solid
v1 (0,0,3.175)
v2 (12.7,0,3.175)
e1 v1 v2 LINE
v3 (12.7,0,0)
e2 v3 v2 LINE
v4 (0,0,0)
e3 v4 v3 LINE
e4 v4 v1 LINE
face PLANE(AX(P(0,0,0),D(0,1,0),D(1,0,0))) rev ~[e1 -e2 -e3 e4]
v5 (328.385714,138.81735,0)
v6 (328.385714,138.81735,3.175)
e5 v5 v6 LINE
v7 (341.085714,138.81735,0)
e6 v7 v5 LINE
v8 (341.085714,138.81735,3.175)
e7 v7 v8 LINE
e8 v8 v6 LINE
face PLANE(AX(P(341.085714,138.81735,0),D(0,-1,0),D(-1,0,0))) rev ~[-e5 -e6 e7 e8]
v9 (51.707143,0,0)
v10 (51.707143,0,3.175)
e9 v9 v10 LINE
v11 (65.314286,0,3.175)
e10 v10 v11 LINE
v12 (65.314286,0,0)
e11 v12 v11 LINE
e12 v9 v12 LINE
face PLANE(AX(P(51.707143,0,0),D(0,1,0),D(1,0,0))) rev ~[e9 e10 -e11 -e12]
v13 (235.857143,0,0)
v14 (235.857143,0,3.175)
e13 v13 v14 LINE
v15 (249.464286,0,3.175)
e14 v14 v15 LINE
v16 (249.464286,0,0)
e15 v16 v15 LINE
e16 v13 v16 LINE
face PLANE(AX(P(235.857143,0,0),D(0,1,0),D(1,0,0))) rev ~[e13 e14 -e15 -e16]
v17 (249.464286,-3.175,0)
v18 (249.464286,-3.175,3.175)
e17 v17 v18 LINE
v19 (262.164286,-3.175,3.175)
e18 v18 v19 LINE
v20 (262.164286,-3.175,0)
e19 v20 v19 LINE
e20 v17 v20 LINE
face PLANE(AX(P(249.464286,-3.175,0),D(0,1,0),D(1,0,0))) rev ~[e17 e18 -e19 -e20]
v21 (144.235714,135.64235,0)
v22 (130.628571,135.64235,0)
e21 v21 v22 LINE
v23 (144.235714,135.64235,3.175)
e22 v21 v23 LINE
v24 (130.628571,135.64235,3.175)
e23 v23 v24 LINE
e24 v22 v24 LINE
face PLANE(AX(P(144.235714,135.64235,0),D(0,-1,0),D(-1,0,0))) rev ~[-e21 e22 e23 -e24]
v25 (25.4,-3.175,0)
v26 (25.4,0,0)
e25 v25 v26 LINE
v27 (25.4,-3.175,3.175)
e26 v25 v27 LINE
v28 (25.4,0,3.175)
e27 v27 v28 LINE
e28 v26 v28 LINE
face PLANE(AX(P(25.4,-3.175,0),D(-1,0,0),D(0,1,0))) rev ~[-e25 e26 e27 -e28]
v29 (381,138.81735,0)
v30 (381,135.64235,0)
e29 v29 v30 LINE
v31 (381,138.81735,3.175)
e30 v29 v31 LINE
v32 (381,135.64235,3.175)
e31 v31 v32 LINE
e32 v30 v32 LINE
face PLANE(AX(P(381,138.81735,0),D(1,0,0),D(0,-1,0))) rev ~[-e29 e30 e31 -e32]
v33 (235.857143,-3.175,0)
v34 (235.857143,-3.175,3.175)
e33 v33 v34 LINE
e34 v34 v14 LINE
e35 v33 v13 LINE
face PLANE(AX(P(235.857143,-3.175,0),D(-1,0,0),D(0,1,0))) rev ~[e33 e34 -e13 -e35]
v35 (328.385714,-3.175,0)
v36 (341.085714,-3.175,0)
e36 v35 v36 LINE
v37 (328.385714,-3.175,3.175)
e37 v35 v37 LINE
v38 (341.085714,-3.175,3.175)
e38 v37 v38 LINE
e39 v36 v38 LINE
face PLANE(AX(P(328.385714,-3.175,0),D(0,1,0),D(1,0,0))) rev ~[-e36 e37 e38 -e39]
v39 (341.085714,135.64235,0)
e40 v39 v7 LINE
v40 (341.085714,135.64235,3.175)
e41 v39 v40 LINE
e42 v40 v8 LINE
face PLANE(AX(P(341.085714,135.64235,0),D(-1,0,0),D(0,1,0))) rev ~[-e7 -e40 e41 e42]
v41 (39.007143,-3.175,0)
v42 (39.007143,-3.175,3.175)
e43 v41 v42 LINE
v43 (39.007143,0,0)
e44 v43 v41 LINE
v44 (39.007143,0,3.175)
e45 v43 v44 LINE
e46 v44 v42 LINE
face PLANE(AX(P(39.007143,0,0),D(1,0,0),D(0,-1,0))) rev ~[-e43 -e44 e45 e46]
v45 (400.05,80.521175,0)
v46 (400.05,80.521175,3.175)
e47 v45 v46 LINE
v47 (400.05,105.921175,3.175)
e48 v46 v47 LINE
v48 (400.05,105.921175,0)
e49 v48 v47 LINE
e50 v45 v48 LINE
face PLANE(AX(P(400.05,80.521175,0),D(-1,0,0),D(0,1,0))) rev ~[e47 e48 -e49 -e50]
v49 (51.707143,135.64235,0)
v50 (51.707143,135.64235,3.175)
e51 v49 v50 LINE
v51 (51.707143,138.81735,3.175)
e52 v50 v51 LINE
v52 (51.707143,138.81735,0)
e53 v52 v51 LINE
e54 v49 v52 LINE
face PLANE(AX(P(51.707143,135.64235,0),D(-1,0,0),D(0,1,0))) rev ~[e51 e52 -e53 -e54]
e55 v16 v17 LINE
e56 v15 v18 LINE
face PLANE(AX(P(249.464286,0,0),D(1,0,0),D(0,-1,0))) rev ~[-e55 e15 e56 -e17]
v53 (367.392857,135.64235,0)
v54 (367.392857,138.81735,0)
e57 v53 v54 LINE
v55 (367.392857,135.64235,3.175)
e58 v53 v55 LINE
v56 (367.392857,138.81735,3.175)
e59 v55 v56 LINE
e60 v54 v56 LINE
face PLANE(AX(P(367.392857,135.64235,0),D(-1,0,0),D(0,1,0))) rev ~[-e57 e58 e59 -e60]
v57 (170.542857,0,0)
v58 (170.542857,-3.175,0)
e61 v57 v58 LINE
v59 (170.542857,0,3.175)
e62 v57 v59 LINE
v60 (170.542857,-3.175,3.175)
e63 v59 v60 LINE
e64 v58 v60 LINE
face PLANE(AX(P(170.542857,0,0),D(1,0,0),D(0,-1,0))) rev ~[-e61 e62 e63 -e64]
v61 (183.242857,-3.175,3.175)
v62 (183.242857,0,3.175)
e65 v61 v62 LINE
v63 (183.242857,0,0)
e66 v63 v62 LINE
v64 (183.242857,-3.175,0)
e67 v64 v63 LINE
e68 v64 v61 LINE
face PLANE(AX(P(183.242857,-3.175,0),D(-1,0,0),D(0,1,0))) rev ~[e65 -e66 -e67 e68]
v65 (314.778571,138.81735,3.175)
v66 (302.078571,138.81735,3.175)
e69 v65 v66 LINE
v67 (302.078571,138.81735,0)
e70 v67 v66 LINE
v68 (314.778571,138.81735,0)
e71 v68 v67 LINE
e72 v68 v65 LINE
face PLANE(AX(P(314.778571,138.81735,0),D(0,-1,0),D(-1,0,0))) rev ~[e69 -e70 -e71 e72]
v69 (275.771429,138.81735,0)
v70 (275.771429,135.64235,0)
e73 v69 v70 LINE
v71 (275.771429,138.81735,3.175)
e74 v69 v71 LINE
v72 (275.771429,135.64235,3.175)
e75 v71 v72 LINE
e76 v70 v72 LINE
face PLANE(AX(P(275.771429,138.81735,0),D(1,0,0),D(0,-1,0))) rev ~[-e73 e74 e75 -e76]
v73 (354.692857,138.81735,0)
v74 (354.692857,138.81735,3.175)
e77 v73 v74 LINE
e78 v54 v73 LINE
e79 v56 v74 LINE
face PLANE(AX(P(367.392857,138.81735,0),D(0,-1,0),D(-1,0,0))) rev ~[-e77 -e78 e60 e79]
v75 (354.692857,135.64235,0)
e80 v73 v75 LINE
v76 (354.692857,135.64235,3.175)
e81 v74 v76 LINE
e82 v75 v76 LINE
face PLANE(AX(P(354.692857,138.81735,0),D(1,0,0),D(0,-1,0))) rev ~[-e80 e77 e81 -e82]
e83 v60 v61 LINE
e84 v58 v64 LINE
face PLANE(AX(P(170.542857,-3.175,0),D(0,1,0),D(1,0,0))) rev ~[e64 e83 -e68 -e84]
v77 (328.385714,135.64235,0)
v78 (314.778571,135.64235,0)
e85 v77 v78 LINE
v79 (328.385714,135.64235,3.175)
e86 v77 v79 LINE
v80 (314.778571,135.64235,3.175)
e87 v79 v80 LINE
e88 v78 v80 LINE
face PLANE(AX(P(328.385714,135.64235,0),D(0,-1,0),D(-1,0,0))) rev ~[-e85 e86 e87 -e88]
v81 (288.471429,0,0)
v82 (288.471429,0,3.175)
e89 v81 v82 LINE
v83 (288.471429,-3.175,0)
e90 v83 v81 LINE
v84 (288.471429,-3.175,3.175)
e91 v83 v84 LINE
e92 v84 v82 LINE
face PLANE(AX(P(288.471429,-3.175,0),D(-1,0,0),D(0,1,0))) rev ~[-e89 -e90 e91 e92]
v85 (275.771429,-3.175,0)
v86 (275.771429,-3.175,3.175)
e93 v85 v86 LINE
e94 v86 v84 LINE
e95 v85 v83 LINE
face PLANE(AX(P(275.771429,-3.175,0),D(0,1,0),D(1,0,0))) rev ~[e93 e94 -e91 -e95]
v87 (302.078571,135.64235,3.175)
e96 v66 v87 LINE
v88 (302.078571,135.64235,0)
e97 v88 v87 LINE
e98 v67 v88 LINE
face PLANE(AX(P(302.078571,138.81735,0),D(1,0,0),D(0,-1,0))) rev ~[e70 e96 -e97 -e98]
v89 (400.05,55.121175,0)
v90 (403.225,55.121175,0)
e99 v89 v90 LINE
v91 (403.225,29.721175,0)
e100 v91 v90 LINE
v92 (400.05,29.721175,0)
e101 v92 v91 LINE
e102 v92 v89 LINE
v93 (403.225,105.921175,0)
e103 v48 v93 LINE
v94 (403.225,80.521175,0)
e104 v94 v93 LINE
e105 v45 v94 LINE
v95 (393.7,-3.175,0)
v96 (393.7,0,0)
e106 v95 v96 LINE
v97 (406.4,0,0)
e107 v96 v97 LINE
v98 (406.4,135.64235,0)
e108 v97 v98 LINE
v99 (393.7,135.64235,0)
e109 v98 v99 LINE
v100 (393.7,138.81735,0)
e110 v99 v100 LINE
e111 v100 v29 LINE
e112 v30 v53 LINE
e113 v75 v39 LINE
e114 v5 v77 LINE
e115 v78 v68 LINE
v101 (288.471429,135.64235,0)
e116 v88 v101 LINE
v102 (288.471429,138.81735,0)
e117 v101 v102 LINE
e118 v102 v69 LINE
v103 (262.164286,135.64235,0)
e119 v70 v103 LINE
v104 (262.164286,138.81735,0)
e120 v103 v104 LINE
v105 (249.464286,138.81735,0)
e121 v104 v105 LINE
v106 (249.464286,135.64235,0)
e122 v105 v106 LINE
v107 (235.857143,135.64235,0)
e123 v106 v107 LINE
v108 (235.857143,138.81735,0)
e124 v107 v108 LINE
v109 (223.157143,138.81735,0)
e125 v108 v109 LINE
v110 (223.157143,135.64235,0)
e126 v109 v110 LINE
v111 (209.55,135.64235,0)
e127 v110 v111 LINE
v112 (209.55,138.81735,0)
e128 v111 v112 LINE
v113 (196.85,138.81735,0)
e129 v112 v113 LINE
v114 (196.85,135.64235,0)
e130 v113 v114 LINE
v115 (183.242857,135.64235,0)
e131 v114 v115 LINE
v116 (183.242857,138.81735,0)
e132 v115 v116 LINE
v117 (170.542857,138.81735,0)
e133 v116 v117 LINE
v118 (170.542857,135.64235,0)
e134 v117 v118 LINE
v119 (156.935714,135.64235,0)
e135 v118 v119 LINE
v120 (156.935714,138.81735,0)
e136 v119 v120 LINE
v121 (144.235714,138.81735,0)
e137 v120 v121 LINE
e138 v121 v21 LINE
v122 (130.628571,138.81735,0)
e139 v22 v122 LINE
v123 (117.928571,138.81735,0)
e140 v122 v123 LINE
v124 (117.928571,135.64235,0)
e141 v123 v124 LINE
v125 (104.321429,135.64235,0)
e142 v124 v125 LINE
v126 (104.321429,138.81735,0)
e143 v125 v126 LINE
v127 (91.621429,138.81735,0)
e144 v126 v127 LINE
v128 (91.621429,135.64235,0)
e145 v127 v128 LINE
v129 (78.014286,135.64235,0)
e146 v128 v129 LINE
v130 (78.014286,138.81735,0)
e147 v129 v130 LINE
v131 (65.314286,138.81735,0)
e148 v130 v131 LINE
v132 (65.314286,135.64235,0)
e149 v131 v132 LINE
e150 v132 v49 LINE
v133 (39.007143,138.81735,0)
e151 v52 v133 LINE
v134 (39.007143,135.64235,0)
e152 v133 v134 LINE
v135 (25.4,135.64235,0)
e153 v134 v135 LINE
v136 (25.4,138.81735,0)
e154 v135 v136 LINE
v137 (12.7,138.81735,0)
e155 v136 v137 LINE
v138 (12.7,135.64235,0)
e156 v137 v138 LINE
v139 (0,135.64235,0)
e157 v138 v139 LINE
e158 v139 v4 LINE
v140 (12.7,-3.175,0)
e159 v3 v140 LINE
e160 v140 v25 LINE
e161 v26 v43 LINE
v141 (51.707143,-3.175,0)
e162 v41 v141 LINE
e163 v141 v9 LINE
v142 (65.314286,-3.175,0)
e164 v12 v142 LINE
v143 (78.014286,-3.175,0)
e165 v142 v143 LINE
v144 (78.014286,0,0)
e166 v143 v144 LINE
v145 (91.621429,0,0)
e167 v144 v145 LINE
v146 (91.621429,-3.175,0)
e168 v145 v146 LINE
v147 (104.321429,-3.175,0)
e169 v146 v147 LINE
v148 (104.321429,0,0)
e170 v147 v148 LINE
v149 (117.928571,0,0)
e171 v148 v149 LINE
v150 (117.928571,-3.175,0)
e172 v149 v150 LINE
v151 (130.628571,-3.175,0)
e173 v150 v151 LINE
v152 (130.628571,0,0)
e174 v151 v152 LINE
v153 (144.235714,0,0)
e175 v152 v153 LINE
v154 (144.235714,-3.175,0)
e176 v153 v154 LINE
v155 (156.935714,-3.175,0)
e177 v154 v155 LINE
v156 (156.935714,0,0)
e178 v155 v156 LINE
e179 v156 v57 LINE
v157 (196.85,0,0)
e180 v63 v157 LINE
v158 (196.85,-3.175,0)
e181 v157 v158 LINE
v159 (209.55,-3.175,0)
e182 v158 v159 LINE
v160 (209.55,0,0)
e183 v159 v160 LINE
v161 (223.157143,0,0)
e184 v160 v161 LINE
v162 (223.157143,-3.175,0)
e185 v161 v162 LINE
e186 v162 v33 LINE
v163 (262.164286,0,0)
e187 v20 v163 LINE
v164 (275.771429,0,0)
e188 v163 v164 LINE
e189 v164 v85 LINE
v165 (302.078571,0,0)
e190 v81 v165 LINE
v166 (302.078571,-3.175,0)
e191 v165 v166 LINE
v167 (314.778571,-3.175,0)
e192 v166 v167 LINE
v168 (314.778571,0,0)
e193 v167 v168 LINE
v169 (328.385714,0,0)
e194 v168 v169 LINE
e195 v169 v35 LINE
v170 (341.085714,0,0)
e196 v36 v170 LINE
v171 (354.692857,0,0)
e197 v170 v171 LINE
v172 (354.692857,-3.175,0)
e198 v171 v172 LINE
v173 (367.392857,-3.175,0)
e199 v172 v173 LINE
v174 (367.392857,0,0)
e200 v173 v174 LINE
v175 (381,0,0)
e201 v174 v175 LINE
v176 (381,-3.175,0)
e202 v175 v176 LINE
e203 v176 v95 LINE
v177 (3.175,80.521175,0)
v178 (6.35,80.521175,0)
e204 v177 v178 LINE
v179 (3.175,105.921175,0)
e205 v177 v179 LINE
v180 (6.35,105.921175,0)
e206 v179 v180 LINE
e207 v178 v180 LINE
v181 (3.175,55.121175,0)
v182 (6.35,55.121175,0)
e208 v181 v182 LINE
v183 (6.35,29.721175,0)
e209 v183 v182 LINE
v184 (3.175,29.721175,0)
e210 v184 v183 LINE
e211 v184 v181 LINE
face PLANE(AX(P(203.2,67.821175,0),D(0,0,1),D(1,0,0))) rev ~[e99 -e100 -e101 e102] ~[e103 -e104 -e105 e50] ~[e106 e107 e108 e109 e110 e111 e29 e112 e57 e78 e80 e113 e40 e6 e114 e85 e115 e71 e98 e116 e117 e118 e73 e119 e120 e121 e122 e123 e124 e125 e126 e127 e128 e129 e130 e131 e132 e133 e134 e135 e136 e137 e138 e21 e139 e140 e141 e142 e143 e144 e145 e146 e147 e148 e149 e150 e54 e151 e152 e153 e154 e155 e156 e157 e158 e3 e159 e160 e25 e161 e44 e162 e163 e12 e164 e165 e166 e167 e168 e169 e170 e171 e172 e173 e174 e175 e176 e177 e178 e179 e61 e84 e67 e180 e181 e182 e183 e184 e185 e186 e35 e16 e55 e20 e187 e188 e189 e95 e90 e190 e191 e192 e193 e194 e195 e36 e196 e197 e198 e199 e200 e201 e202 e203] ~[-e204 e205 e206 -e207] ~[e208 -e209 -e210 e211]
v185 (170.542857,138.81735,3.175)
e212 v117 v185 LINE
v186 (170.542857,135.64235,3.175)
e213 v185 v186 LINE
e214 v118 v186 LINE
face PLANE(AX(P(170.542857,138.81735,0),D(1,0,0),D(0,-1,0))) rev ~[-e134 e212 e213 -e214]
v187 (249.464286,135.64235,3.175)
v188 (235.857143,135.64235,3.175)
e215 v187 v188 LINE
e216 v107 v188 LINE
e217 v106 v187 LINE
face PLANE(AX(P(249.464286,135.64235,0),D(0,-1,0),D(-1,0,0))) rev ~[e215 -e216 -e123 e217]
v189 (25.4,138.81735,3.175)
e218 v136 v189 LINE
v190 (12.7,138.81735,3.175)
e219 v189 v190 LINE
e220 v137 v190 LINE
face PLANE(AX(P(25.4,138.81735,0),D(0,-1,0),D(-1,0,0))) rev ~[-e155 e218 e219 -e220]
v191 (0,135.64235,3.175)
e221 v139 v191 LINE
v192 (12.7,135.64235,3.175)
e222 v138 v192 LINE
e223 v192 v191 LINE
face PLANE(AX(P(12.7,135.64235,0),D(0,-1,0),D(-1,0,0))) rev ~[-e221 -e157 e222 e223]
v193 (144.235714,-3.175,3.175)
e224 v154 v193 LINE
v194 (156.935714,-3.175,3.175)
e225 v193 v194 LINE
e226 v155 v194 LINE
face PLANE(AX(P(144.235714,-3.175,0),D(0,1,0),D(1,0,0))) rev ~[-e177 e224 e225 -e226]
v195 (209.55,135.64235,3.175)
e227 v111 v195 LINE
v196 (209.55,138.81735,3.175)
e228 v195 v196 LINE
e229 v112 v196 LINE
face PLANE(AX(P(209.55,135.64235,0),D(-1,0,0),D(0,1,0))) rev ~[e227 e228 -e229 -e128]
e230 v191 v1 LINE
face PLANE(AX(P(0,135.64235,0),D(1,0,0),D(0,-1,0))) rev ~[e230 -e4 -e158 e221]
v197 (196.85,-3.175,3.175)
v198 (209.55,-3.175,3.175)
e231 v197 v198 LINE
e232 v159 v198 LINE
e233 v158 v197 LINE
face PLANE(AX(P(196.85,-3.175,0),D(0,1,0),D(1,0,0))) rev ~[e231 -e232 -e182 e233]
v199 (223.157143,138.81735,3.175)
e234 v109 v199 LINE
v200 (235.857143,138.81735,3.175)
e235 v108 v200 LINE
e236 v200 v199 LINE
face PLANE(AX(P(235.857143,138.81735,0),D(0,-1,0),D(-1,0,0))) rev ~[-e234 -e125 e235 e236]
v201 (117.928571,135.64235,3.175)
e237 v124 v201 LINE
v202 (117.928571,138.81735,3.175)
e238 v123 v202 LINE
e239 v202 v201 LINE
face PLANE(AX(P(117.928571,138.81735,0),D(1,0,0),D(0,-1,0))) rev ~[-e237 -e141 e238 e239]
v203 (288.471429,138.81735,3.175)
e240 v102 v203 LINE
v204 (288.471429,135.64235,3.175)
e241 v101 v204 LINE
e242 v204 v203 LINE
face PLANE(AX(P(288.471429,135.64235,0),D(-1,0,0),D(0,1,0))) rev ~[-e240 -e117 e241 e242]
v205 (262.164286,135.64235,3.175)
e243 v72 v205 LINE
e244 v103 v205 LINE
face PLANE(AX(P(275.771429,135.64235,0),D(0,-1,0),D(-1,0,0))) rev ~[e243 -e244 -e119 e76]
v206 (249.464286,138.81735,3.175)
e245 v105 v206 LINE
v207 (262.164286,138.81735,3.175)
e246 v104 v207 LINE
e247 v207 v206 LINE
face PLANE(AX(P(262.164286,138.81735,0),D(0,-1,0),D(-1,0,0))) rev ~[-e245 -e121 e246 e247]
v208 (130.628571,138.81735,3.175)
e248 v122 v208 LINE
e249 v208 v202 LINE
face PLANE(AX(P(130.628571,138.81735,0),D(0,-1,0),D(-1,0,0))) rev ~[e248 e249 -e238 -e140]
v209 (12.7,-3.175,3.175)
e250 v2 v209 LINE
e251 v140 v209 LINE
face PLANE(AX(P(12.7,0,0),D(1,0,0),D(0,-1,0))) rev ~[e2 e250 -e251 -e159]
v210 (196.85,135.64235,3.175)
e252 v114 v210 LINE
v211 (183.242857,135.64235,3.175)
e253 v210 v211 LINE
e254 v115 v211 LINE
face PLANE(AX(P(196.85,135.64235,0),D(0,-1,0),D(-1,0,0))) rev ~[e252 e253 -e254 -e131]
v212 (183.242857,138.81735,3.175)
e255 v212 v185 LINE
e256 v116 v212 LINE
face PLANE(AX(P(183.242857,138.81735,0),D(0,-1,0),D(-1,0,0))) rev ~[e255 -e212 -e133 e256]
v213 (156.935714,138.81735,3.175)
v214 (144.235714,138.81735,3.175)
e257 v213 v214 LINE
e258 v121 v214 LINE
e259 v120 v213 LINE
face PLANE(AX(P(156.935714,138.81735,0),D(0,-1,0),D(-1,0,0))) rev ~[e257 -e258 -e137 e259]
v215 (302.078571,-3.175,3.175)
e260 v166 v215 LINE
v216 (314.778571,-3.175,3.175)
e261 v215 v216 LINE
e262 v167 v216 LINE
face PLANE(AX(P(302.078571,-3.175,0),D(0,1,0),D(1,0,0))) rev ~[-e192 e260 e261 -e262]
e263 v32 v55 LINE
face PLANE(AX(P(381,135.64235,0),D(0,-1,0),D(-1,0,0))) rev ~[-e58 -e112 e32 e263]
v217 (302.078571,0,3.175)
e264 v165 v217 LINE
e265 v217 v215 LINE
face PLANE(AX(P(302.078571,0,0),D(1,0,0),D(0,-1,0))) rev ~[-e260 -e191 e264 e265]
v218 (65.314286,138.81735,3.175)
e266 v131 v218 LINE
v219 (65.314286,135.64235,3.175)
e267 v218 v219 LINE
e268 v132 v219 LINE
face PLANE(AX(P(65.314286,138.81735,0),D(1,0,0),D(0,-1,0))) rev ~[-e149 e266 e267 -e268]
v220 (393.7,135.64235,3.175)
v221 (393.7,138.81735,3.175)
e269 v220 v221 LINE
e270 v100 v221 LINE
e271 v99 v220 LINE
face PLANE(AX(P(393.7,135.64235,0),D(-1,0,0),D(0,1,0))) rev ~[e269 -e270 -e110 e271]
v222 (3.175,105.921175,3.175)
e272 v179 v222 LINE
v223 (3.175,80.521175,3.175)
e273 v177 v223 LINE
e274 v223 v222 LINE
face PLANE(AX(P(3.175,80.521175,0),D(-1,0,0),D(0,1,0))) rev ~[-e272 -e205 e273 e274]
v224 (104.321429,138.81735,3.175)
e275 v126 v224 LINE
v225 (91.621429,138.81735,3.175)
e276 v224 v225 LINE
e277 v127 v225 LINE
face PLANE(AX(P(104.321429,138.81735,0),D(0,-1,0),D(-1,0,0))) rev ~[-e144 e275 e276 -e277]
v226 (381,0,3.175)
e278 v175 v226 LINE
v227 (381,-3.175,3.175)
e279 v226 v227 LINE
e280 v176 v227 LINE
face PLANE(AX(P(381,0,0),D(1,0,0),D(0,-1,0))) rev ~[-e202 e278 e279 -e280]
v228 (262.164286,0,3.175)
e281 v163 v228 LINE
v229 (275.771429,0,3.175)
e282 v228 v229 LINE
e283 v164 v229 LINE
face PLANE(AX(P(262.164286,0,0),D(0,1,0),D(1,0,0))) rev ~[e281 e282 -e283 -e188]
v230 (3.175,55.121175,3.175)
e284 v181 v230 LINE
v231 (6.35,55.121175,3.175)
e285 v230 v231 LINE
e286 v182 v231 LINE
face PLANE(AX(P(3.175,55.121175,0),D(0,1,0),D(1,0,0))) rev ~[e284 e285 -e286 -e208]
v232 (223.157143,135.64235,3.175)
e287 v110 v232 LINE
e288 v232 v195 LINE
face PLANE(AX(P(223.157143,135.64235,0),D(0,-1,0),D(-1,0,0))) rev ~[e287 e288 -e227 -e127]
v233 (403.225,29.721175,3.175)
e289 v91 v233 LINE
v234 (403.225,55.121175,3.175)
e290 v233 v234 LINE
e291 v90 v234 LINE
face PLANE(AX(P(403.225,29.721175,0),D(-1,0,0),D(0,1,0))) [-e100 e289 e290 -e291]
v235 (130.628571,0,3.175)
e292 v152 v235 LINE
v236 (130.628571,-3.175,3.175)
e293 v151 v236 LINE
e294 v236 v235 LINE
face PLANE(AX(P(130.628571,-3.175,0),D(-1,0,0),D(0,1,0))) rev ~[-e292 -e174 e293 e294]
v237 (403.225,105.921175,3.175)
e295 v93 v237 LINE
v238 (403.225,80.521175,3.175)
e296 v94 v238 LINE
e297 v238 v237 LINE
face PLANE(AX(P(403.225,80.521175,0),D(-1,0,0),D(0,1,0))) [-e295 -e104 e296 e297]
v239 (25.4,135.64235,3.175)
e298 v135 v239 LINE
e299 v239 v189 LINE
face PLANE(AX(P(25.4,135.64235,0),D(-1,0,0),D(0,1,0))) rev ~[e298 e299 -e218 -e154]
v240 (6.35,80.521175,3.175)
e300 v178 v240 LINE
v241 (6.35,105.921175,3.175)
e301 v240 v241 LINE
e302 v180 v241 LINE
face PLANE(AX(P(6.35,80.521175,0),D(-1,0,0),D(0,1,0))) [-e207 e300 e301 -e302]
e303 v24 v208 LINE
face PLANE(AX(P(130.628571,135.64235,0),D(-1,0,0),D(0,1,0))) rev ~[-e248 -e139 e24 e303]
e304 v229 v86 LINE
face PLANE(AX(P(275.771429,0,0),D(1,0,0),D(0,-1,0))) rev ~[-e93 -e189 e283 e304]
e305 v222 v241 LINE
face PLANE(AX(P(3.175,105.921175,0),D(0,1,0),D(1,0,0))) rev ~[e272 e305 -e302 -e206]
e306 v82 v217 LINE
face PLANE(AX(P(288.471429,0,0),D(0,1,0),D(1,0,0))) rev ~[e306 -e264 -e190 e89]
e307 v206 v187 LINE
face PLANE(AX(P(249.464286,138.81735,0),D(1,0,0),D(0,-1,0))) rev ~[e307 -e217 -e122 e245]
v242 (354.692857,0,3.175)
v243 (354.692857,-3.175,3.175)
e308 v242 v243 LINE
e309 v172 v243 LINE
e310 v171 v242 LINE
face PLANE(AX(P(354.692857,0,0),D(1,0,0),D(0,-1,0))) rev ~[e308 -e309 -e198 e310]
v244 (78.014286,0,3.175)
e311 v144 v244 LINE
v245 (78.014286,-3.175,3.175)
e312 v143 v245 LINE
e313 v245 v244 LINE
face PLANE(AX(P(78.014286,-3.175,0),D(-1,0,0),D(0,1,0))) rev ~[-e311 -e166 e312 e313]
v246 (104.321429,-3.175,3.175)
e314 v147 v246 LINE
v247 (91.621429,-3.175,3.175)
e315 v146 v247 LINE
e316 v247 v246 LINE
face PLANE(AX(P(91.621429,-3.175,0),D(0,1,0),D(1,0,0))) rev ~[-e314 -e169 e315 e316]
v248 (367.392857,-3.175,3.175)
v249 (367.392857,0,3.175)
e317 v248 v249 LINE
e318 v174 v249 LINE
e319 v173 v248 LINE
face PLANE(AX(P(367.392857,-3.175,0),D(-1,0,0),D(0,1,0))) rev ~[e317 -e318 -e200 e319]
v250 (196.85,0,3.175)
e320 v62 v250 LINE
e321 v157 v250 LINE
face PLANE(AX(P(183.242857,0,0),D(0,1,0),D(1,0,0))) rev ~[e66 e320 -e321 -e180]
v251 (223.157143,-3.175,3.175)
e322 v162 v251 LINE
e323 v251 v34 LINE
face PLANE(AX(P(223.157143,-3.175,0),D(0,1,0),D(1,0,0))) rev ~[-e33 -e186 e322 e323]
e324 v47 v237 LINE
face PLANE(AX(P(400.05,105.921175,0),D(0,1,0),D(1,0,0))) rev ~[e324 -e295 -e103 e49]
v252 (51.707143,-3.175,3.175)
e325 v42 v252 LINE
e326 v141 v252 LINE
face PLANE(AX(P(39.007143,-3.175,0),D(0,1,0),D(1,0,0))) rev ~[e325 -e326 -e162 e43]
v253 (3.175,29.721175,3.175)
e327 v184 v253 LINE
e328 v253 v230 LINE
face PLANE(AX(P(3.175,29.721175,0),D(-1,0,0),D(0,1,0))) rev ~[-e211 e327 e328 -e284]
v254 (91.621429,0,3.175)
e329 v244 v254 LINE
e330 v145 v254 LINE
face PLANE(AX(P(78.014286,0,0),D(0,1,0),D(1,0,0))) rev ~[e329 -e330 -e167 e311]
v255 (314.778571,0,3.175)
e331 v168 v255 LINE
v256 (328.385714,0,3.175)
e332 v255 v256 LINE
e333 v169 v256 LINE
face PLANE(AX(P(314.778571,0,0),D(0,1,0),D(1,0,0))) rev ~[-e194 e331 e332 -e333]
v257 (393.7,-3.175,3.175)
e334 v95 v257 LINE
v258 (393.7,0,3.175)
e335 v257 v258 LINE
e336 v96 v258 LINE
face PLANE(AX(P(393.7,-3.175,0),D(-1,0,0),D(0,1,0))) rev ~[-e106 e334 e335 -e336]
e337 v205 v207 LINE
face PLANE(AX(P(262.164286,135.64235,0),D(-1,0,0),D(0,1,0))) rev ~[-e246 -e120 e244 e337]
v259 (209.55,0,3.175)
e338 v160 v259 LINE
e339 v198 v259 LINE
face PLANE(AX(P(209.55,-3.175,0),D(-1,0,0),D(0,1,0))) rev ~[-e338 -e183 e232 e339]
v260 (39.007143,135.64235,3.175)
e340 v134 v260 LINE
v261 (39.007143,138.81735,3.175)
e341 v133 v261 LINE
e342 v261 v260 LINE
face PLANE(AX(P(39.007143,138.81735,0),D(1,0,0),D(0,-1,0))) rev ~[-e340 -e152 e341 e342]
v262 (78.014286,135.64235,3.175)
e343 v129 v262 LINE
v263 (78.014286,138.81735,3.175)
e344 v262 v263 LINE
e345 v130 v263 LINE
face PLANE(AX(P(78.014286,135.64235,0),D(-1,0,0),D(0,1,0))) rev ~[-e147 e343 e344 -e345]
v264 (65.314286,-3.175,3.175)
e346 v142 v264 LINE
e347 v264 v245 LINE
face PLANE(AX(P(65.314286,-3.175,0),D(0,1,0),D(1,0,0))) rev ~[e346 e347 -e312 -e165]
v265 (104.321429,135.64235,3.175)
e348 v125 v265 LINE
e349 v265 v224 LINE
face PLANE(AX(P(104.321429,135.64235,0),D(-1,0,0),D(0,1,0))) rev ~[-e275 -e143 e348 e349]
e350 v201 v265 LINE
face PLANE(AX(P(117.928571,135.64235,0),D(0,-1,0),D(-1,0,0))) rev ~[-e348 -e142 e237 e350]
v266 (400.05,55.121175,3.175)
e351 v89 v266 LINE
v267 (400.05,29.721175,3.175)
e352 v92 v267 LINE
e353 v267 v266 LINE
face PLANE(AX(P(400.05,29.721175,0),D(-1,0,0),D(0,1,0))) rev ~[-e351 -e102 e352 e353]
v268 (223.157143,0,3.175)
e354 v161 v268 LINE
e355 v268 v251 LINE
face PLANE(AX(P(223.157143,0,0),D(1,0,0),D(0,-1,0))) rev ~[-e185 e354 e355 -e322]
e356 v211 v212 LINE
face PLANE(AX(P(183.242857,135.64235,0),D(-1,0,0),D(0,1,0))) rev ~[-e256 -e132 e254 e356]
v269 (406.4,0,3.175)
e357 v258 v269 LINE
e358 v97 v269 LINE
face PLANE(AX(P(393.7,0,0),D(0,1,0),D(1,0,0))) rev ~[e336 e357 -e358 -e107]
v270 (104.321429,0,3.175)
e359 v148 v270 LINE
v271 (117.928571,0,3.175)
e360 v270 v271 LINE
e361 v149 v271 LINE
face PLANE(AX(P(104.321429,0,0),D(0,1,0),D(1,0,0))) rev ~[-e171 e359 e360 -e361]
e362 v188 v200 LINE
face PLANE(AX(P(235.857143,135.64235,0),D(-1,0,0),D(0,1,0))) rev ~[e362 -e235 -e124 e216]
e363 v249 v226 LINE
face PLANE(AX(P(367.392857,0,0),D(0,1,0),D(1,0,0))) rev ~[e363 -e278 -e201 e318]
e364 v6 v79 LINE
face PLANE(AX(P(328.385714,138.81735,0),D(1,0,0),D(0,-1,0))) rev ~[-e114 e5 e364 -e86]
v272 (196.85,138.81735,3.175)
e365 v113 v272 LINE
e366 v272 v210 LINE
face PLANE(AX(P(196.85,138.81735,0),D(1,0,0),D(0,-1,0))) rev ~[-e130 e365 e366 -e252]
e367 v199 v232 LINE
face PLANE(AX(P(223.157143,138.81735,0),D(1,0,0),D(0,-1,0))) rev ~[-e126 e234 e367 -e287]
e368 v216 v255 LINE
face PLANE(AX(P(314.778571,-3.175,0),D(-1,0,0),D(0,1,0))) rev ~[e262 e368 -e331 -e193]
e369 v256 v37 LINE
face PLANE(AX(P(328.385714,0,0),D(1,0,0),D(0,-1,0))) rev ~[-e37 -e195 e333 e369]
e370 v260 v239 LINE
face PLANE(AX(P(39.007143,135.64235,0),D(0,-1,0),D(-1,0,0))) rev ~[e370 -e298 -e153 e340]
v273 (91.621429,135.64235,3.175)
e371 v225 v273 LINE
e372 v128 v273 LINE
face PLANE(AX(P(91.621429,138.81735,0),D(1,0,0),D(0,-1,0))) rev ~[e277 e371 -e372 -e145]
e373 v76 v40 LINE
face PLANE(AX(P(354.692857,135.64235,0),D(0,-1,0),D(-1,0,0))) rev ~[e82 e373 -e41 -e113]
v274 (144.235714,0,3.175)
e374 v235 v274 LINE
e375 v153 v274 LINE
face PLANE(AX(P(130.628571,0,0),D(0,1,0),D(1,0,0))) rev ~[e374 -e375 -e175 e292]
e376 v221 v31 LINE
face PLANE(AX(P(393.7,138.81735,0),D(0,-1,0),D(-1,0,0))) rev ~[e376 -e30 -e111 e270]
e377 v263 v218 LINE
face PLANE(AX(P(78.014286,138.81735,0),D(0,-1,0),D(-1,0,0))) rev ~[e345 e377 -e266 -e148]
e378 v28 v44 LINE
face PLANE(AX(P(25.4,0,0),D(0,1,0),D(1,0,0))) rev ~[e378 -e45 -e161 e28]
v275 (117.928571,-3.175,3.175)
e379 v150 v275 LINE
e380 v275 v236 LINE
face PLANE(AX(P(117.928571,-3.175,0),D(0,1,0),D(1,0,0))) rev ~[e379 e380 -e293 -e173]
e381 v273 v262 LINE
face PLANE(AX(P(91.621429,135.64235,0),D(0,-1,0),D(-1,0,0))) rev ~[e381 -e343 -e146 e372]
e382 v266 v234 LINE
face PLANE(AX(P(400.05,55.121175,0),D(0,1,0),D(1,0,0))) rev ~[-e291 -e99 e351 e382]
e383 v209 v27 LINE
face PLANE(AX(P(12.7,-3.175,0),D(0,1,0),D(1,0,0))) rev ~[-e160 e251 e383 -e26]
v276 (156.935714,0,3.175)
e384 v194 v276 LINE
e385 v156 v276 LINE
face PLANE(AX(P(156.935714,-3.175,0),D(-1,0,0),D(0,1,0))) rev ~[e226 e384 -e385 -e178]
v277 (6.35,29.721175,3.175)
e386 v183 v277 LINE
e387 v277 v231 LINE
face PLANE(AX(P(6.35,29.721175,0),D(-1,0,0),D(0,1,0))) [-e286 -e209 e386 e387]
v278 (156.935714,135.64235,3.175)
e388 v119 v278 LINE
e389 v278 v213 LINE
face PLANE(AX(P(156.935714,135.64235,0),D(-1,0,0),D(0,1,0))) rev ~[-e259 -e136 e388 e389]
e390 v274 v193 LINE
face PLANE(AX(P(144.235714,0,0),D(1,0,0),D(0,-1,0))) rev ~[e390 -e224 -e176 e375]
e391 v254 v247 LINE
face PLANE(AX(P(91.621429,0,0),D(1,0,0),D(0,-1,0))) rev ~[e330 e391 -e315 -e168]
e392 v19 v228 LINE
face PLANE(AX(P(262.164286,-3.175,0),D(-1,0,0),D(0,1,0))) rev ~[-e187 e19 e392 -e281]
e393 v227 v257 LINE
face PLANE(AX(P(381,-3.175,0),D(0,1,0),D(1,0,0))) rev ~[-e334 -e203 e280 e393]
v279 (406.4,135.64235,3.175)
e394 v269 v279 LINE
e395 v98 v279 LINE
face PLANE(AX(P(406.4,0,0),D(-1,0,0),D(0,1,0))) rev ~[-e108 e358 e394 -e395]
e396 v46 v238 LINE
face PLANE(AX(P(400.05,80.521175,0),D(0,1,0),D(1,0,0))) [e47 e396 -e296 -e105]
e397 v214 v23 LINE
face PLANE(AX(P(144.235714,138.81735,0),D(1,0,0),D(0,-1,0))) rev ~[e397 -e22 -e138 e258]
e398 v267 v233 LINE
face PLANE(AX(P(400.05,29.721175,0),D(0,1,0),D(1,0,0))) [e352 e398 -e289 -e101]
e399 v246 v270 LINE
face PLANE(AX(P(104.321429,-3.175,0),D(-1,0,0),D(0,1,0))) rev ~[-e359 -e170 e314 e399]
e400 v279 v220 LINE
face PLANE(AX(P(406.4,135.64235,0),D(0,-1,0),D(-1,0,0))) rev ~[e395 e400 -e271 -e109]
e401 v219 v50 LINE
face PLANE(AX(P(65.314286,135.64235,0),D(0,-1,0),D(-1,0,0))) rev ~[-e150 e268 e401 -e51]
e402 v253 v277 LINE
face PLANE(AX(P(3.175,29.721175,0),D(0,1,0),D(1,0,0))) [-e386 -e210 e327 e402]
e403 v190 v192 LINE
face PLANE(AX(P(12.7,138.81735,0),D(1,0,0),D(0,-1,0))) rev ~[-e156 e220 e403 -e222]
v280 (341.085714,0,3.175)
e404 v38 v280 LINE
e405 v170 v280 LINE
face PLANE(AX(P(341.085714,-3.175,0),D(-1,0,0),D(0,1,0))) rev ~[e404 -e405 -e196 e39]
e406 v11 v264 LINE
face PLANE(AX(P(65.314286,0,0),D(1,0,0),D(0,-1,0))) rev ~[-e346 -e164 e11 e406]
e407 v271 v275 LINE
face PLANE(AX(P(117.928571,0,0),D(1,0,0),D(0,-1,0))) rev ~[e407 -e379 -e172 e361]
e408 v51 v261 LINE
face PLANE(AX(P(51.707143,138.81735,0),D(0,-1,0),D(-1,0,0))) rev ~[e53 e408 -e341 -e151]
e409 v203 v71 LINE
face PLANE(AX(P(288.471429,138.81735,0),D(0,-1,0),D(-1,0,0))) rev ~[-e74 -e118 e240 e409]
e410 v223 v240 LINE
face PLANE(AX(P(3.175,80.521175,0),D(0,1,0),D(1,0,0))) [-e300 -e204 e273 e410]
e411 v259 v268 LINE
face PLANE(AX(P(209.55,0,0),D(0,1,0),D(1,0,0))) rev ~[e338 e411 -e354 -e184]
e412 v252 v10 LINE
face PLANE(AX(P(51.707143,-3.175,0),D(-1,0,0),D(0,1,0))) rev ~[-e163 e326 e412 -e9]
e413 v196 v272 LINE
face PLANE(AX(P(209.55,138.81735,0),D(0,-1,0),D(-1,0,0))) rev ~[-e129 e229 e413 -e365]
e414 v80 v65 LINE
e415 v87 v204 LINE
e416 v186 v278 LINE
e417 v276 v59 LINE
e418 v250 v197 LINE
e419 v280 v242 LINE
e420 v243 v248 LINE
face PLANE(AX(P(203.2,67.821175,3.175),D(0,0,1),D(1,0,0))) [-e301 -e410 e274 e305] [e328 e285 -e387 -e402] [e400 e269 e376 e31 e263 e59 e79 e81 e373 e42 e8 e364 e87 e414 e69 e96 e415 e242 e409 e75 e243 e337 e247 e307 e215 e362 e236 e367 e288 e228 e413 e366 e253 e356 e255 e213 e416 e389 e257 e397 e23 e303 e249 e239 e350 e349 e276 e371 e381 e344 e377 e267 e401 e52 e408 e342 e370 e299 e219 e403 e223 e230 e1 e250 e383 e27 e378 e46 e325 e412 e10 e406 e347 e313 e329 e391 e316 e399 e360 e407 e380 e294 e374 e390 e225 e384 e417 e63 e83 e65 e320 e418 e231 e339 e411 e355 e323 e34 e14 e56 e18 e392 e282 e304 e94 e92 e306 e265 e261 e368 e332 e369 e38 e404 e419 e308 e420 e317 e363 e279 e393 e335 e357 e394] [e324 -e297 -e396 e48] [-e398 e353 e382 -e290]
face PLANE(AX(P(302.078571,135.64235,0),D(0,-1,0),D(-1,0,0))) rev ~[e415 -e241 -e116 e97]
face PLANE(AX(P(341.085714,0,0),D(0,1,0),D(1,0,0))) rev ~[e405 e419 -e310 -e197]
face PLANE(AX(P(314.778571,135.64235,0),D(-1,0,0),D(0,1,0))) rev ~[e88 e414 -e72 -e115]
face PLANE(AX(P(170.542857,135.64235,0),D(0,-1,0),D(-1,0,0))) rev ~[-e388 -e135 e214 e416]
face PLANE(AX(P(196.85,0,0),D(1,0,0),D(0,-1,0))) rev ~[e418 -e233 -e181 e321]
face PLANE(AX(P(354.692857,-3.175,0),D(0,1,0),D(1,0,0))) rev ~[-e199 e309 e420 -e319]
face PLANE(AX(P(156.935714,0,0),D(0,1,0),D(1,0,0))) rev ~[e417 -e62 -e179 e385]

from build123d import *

# Parameters (mm, degrees)
SKETCH1_W           = 3.175
SKETCH1_H           = 25.4
BOSS_EXTRUDE1_DEPTH = 3.175


with BuildPart() as part:
    # Sketch1 → Boss-Extrude1 (new body)
    with BuildSketch(Plane.XY):
        Polygon((65.314285714, 135.64235), (65.214285714, 135.64235), (51.807142857, 135.64235), (51.707142857, 135.64235), (51.707142857, 138.81735), (39.007142857, 138.81735), (39.007142857, 135.64235), (38.907142857, 135.64235), (25.5, 135.64235), (25.4, 135.64235), (25.4, 138.81735), (12.7, 138.81735), (12.7, 135.64235), (12.6, 135.64235), (0, 135.64235), (0, 0), (12.6, 0), (12.7, 0), (12.7, -3.175), (25.4, -3.175), (25.4, 0), (25.5, 0), (38.907142857, 0), (39.007142857, 0), (39.007142857, -3.175), (51.707142857, -3.175), (51.707142857, 0), (51.807142857, 0), (65.214285714, 0), (65.314285714, 0), (65.314285714, -3.175), (78.014285714, -3.175), (78.014285714, 0), (78.114285714, 0), (91.521428571, 0), (91.621428571, 0), (91.621428571, -3.175), (104.321428571, -3.175), (104.321428571, 0), (104.421428571, 0), (117.828571429, 0), (117.928571429, 0), (117.928571429, -3.175), (130.628571429, -3.175), (130.628571429, 0), (130.728571429, 0), (144.135714286, 0), (144.235714286, 0), (144.235714286, -3.175), (156.935714286, -3.175), (156.935714286, 0), (157.035714286, 0), (170.442857143, 0), (170.542857143, 0), (170.542857143, -3.175), (183.242857143, -3.175), (183.242857143, 0), (183.342857143, 0), (196.75, 0), (196.85, 0), (196.85, -3.175), (209.55, -3.175), (209.55, 0), (209.65, 0), (223.057142857, 0), (223.157142857, 0), (223.157142857, -3.175), (235.857142857, -3.175), (235.857142857, 0), (235.957142857, 0), (249.364285714, 0), (249.464285714, 0), (249.464285714, -3.175), (262.164285714, -3.175), (262.164285714, 0), (262.264285714, 0), (275.671428571, 0), (275.771428571, 0), (275.771428571, -3.175), (288.471428571, -3.175), (288.471428571, 0), (288.571428571, 0), (301.978571429, 0), (302.078571429, 0), (302.078571429, -3.175), (314.778571429, -3.175), (314.778571429, 0), (314.878571429, 0), (328.285714286, 0), (328.385714286, 0), (328.385714286, -3.175), (341.085714286, -3.175), (341.085714286, 0), (341.185714286, 0), (354.592857143, 0), (354.692857143, 0), (354.692857143, -3.175), (367.392857143, -3.175), (367.392857143, 0), (367.492857143, 0), (380.9, 0), (381, 0), (381, -3.175), (393.7, -3.175), (393.7, 0), (393.8, 0), (406.4, 0), (406.4, 135.64235), (393.8, 135.64235), (393.7, 135.64235), (393.7, 138.81735), (381, 138.81735), (381, 135.64235), (380.9, 135.64235), (367.492857143, 135.64235), (367.392857143, 135.64235), (367.392857143, 138.81735), (354.692857143, 138.81735), (354.692857143, 135.64235), (354.592857143, 135.64235), (341.185714286, 135.64235), (341.085714286, 135.64235), (341.085714286, 138.81735), (328.385714286, 138.81735), (328.385714286, 135.64235), (328.285714286, 135.64235), (314.878571429, 135.64235), (314.778571429, 135.64235), (314.778571429, 138.81735), (302.078571429, 138.81735), (302.078571429, 135.64235), (301.978571429, 135.64235), (288.571428571, 135.64235), (288.471428571, 135.64235), (288.471428571, 138.81735), (275.771428571, 138.81735), (275.771428571, 135.64235), (275.671428571, 135.64235), (262.264285714, 135.64235), (262.164285714, 135.64235), (262.164285714, 138.81735), (249.464285714, 138.81735), (249.464285714, 135.64235), (249.364285714, 135.64235), (235.957142857, 135.64235), (235.857142857, 135.64235), (235.857142857, 138.81735), (223.157142857, 138.81735), (223.157142857, 135.64235), (223.057142857, 135.64235), (209.65, 135.64235), (209.55, 135.64235), (209.55, 138.81735), (196.85, 138.81735), (196.85, 135.64235), (196.75, 135.64235), (183.342857143, 135.64235), (183.242857143, 135.64235), (183.242857143, 138.81735), (170.542857143, 138.81735), (170.542857143, 135.64235), (170.442857143, 135.64235), (157.035714286, 135.64235), (156.935714286, 135.64235), (156.935714286, 138.81735), (144.235714286, 138.81735), (144.235714286, 135.64235), (144.135714286, 135.64235), (130.728571429, 135.64235), (130.628571429, 135.64235), (130.628571429, 138.81735), (117.928571429, 138.81735), (117.928571429, 135.64235), (117.828571429, 135.64235), (104.421428571, 135.64235), (104.321428571, 135.64235), (104.321428571, 138.81735), (91.621428571, 138.81735), (91.621428571, 135.64235), (91.521428571, 135.64235), (78.114285714, 135.64235), (78.014285714, 135.64235), (78.014285714, 138.81735), (65.314285714, 138.81735), align=None)
        with Locations((401.6375, 93.221175)):
            Rectangle(SKETCH1_W, SKETCH1_H, mode=Mode.SUBTRACT)
        with Locations((401.6375, 42.421175)):
            Rectangle(SKETCH1_W, SKETCH1_H, mode=Mode.SUBTRACT)
        with Locations((4.7625, 93.221175)):
            Rectangle(SKETCH1_W, SKETCH1_H, mode=Mode.SUBTRACT)
        with Locations((4.7625, 42.421175)):
            Rectangle(SKETCH1_W, SKETCH1_H, mode=Mode.SUBTRACT)
    extrude(amount=BOSS_EXTRUDE1_DEPTH)


solid = part.part
